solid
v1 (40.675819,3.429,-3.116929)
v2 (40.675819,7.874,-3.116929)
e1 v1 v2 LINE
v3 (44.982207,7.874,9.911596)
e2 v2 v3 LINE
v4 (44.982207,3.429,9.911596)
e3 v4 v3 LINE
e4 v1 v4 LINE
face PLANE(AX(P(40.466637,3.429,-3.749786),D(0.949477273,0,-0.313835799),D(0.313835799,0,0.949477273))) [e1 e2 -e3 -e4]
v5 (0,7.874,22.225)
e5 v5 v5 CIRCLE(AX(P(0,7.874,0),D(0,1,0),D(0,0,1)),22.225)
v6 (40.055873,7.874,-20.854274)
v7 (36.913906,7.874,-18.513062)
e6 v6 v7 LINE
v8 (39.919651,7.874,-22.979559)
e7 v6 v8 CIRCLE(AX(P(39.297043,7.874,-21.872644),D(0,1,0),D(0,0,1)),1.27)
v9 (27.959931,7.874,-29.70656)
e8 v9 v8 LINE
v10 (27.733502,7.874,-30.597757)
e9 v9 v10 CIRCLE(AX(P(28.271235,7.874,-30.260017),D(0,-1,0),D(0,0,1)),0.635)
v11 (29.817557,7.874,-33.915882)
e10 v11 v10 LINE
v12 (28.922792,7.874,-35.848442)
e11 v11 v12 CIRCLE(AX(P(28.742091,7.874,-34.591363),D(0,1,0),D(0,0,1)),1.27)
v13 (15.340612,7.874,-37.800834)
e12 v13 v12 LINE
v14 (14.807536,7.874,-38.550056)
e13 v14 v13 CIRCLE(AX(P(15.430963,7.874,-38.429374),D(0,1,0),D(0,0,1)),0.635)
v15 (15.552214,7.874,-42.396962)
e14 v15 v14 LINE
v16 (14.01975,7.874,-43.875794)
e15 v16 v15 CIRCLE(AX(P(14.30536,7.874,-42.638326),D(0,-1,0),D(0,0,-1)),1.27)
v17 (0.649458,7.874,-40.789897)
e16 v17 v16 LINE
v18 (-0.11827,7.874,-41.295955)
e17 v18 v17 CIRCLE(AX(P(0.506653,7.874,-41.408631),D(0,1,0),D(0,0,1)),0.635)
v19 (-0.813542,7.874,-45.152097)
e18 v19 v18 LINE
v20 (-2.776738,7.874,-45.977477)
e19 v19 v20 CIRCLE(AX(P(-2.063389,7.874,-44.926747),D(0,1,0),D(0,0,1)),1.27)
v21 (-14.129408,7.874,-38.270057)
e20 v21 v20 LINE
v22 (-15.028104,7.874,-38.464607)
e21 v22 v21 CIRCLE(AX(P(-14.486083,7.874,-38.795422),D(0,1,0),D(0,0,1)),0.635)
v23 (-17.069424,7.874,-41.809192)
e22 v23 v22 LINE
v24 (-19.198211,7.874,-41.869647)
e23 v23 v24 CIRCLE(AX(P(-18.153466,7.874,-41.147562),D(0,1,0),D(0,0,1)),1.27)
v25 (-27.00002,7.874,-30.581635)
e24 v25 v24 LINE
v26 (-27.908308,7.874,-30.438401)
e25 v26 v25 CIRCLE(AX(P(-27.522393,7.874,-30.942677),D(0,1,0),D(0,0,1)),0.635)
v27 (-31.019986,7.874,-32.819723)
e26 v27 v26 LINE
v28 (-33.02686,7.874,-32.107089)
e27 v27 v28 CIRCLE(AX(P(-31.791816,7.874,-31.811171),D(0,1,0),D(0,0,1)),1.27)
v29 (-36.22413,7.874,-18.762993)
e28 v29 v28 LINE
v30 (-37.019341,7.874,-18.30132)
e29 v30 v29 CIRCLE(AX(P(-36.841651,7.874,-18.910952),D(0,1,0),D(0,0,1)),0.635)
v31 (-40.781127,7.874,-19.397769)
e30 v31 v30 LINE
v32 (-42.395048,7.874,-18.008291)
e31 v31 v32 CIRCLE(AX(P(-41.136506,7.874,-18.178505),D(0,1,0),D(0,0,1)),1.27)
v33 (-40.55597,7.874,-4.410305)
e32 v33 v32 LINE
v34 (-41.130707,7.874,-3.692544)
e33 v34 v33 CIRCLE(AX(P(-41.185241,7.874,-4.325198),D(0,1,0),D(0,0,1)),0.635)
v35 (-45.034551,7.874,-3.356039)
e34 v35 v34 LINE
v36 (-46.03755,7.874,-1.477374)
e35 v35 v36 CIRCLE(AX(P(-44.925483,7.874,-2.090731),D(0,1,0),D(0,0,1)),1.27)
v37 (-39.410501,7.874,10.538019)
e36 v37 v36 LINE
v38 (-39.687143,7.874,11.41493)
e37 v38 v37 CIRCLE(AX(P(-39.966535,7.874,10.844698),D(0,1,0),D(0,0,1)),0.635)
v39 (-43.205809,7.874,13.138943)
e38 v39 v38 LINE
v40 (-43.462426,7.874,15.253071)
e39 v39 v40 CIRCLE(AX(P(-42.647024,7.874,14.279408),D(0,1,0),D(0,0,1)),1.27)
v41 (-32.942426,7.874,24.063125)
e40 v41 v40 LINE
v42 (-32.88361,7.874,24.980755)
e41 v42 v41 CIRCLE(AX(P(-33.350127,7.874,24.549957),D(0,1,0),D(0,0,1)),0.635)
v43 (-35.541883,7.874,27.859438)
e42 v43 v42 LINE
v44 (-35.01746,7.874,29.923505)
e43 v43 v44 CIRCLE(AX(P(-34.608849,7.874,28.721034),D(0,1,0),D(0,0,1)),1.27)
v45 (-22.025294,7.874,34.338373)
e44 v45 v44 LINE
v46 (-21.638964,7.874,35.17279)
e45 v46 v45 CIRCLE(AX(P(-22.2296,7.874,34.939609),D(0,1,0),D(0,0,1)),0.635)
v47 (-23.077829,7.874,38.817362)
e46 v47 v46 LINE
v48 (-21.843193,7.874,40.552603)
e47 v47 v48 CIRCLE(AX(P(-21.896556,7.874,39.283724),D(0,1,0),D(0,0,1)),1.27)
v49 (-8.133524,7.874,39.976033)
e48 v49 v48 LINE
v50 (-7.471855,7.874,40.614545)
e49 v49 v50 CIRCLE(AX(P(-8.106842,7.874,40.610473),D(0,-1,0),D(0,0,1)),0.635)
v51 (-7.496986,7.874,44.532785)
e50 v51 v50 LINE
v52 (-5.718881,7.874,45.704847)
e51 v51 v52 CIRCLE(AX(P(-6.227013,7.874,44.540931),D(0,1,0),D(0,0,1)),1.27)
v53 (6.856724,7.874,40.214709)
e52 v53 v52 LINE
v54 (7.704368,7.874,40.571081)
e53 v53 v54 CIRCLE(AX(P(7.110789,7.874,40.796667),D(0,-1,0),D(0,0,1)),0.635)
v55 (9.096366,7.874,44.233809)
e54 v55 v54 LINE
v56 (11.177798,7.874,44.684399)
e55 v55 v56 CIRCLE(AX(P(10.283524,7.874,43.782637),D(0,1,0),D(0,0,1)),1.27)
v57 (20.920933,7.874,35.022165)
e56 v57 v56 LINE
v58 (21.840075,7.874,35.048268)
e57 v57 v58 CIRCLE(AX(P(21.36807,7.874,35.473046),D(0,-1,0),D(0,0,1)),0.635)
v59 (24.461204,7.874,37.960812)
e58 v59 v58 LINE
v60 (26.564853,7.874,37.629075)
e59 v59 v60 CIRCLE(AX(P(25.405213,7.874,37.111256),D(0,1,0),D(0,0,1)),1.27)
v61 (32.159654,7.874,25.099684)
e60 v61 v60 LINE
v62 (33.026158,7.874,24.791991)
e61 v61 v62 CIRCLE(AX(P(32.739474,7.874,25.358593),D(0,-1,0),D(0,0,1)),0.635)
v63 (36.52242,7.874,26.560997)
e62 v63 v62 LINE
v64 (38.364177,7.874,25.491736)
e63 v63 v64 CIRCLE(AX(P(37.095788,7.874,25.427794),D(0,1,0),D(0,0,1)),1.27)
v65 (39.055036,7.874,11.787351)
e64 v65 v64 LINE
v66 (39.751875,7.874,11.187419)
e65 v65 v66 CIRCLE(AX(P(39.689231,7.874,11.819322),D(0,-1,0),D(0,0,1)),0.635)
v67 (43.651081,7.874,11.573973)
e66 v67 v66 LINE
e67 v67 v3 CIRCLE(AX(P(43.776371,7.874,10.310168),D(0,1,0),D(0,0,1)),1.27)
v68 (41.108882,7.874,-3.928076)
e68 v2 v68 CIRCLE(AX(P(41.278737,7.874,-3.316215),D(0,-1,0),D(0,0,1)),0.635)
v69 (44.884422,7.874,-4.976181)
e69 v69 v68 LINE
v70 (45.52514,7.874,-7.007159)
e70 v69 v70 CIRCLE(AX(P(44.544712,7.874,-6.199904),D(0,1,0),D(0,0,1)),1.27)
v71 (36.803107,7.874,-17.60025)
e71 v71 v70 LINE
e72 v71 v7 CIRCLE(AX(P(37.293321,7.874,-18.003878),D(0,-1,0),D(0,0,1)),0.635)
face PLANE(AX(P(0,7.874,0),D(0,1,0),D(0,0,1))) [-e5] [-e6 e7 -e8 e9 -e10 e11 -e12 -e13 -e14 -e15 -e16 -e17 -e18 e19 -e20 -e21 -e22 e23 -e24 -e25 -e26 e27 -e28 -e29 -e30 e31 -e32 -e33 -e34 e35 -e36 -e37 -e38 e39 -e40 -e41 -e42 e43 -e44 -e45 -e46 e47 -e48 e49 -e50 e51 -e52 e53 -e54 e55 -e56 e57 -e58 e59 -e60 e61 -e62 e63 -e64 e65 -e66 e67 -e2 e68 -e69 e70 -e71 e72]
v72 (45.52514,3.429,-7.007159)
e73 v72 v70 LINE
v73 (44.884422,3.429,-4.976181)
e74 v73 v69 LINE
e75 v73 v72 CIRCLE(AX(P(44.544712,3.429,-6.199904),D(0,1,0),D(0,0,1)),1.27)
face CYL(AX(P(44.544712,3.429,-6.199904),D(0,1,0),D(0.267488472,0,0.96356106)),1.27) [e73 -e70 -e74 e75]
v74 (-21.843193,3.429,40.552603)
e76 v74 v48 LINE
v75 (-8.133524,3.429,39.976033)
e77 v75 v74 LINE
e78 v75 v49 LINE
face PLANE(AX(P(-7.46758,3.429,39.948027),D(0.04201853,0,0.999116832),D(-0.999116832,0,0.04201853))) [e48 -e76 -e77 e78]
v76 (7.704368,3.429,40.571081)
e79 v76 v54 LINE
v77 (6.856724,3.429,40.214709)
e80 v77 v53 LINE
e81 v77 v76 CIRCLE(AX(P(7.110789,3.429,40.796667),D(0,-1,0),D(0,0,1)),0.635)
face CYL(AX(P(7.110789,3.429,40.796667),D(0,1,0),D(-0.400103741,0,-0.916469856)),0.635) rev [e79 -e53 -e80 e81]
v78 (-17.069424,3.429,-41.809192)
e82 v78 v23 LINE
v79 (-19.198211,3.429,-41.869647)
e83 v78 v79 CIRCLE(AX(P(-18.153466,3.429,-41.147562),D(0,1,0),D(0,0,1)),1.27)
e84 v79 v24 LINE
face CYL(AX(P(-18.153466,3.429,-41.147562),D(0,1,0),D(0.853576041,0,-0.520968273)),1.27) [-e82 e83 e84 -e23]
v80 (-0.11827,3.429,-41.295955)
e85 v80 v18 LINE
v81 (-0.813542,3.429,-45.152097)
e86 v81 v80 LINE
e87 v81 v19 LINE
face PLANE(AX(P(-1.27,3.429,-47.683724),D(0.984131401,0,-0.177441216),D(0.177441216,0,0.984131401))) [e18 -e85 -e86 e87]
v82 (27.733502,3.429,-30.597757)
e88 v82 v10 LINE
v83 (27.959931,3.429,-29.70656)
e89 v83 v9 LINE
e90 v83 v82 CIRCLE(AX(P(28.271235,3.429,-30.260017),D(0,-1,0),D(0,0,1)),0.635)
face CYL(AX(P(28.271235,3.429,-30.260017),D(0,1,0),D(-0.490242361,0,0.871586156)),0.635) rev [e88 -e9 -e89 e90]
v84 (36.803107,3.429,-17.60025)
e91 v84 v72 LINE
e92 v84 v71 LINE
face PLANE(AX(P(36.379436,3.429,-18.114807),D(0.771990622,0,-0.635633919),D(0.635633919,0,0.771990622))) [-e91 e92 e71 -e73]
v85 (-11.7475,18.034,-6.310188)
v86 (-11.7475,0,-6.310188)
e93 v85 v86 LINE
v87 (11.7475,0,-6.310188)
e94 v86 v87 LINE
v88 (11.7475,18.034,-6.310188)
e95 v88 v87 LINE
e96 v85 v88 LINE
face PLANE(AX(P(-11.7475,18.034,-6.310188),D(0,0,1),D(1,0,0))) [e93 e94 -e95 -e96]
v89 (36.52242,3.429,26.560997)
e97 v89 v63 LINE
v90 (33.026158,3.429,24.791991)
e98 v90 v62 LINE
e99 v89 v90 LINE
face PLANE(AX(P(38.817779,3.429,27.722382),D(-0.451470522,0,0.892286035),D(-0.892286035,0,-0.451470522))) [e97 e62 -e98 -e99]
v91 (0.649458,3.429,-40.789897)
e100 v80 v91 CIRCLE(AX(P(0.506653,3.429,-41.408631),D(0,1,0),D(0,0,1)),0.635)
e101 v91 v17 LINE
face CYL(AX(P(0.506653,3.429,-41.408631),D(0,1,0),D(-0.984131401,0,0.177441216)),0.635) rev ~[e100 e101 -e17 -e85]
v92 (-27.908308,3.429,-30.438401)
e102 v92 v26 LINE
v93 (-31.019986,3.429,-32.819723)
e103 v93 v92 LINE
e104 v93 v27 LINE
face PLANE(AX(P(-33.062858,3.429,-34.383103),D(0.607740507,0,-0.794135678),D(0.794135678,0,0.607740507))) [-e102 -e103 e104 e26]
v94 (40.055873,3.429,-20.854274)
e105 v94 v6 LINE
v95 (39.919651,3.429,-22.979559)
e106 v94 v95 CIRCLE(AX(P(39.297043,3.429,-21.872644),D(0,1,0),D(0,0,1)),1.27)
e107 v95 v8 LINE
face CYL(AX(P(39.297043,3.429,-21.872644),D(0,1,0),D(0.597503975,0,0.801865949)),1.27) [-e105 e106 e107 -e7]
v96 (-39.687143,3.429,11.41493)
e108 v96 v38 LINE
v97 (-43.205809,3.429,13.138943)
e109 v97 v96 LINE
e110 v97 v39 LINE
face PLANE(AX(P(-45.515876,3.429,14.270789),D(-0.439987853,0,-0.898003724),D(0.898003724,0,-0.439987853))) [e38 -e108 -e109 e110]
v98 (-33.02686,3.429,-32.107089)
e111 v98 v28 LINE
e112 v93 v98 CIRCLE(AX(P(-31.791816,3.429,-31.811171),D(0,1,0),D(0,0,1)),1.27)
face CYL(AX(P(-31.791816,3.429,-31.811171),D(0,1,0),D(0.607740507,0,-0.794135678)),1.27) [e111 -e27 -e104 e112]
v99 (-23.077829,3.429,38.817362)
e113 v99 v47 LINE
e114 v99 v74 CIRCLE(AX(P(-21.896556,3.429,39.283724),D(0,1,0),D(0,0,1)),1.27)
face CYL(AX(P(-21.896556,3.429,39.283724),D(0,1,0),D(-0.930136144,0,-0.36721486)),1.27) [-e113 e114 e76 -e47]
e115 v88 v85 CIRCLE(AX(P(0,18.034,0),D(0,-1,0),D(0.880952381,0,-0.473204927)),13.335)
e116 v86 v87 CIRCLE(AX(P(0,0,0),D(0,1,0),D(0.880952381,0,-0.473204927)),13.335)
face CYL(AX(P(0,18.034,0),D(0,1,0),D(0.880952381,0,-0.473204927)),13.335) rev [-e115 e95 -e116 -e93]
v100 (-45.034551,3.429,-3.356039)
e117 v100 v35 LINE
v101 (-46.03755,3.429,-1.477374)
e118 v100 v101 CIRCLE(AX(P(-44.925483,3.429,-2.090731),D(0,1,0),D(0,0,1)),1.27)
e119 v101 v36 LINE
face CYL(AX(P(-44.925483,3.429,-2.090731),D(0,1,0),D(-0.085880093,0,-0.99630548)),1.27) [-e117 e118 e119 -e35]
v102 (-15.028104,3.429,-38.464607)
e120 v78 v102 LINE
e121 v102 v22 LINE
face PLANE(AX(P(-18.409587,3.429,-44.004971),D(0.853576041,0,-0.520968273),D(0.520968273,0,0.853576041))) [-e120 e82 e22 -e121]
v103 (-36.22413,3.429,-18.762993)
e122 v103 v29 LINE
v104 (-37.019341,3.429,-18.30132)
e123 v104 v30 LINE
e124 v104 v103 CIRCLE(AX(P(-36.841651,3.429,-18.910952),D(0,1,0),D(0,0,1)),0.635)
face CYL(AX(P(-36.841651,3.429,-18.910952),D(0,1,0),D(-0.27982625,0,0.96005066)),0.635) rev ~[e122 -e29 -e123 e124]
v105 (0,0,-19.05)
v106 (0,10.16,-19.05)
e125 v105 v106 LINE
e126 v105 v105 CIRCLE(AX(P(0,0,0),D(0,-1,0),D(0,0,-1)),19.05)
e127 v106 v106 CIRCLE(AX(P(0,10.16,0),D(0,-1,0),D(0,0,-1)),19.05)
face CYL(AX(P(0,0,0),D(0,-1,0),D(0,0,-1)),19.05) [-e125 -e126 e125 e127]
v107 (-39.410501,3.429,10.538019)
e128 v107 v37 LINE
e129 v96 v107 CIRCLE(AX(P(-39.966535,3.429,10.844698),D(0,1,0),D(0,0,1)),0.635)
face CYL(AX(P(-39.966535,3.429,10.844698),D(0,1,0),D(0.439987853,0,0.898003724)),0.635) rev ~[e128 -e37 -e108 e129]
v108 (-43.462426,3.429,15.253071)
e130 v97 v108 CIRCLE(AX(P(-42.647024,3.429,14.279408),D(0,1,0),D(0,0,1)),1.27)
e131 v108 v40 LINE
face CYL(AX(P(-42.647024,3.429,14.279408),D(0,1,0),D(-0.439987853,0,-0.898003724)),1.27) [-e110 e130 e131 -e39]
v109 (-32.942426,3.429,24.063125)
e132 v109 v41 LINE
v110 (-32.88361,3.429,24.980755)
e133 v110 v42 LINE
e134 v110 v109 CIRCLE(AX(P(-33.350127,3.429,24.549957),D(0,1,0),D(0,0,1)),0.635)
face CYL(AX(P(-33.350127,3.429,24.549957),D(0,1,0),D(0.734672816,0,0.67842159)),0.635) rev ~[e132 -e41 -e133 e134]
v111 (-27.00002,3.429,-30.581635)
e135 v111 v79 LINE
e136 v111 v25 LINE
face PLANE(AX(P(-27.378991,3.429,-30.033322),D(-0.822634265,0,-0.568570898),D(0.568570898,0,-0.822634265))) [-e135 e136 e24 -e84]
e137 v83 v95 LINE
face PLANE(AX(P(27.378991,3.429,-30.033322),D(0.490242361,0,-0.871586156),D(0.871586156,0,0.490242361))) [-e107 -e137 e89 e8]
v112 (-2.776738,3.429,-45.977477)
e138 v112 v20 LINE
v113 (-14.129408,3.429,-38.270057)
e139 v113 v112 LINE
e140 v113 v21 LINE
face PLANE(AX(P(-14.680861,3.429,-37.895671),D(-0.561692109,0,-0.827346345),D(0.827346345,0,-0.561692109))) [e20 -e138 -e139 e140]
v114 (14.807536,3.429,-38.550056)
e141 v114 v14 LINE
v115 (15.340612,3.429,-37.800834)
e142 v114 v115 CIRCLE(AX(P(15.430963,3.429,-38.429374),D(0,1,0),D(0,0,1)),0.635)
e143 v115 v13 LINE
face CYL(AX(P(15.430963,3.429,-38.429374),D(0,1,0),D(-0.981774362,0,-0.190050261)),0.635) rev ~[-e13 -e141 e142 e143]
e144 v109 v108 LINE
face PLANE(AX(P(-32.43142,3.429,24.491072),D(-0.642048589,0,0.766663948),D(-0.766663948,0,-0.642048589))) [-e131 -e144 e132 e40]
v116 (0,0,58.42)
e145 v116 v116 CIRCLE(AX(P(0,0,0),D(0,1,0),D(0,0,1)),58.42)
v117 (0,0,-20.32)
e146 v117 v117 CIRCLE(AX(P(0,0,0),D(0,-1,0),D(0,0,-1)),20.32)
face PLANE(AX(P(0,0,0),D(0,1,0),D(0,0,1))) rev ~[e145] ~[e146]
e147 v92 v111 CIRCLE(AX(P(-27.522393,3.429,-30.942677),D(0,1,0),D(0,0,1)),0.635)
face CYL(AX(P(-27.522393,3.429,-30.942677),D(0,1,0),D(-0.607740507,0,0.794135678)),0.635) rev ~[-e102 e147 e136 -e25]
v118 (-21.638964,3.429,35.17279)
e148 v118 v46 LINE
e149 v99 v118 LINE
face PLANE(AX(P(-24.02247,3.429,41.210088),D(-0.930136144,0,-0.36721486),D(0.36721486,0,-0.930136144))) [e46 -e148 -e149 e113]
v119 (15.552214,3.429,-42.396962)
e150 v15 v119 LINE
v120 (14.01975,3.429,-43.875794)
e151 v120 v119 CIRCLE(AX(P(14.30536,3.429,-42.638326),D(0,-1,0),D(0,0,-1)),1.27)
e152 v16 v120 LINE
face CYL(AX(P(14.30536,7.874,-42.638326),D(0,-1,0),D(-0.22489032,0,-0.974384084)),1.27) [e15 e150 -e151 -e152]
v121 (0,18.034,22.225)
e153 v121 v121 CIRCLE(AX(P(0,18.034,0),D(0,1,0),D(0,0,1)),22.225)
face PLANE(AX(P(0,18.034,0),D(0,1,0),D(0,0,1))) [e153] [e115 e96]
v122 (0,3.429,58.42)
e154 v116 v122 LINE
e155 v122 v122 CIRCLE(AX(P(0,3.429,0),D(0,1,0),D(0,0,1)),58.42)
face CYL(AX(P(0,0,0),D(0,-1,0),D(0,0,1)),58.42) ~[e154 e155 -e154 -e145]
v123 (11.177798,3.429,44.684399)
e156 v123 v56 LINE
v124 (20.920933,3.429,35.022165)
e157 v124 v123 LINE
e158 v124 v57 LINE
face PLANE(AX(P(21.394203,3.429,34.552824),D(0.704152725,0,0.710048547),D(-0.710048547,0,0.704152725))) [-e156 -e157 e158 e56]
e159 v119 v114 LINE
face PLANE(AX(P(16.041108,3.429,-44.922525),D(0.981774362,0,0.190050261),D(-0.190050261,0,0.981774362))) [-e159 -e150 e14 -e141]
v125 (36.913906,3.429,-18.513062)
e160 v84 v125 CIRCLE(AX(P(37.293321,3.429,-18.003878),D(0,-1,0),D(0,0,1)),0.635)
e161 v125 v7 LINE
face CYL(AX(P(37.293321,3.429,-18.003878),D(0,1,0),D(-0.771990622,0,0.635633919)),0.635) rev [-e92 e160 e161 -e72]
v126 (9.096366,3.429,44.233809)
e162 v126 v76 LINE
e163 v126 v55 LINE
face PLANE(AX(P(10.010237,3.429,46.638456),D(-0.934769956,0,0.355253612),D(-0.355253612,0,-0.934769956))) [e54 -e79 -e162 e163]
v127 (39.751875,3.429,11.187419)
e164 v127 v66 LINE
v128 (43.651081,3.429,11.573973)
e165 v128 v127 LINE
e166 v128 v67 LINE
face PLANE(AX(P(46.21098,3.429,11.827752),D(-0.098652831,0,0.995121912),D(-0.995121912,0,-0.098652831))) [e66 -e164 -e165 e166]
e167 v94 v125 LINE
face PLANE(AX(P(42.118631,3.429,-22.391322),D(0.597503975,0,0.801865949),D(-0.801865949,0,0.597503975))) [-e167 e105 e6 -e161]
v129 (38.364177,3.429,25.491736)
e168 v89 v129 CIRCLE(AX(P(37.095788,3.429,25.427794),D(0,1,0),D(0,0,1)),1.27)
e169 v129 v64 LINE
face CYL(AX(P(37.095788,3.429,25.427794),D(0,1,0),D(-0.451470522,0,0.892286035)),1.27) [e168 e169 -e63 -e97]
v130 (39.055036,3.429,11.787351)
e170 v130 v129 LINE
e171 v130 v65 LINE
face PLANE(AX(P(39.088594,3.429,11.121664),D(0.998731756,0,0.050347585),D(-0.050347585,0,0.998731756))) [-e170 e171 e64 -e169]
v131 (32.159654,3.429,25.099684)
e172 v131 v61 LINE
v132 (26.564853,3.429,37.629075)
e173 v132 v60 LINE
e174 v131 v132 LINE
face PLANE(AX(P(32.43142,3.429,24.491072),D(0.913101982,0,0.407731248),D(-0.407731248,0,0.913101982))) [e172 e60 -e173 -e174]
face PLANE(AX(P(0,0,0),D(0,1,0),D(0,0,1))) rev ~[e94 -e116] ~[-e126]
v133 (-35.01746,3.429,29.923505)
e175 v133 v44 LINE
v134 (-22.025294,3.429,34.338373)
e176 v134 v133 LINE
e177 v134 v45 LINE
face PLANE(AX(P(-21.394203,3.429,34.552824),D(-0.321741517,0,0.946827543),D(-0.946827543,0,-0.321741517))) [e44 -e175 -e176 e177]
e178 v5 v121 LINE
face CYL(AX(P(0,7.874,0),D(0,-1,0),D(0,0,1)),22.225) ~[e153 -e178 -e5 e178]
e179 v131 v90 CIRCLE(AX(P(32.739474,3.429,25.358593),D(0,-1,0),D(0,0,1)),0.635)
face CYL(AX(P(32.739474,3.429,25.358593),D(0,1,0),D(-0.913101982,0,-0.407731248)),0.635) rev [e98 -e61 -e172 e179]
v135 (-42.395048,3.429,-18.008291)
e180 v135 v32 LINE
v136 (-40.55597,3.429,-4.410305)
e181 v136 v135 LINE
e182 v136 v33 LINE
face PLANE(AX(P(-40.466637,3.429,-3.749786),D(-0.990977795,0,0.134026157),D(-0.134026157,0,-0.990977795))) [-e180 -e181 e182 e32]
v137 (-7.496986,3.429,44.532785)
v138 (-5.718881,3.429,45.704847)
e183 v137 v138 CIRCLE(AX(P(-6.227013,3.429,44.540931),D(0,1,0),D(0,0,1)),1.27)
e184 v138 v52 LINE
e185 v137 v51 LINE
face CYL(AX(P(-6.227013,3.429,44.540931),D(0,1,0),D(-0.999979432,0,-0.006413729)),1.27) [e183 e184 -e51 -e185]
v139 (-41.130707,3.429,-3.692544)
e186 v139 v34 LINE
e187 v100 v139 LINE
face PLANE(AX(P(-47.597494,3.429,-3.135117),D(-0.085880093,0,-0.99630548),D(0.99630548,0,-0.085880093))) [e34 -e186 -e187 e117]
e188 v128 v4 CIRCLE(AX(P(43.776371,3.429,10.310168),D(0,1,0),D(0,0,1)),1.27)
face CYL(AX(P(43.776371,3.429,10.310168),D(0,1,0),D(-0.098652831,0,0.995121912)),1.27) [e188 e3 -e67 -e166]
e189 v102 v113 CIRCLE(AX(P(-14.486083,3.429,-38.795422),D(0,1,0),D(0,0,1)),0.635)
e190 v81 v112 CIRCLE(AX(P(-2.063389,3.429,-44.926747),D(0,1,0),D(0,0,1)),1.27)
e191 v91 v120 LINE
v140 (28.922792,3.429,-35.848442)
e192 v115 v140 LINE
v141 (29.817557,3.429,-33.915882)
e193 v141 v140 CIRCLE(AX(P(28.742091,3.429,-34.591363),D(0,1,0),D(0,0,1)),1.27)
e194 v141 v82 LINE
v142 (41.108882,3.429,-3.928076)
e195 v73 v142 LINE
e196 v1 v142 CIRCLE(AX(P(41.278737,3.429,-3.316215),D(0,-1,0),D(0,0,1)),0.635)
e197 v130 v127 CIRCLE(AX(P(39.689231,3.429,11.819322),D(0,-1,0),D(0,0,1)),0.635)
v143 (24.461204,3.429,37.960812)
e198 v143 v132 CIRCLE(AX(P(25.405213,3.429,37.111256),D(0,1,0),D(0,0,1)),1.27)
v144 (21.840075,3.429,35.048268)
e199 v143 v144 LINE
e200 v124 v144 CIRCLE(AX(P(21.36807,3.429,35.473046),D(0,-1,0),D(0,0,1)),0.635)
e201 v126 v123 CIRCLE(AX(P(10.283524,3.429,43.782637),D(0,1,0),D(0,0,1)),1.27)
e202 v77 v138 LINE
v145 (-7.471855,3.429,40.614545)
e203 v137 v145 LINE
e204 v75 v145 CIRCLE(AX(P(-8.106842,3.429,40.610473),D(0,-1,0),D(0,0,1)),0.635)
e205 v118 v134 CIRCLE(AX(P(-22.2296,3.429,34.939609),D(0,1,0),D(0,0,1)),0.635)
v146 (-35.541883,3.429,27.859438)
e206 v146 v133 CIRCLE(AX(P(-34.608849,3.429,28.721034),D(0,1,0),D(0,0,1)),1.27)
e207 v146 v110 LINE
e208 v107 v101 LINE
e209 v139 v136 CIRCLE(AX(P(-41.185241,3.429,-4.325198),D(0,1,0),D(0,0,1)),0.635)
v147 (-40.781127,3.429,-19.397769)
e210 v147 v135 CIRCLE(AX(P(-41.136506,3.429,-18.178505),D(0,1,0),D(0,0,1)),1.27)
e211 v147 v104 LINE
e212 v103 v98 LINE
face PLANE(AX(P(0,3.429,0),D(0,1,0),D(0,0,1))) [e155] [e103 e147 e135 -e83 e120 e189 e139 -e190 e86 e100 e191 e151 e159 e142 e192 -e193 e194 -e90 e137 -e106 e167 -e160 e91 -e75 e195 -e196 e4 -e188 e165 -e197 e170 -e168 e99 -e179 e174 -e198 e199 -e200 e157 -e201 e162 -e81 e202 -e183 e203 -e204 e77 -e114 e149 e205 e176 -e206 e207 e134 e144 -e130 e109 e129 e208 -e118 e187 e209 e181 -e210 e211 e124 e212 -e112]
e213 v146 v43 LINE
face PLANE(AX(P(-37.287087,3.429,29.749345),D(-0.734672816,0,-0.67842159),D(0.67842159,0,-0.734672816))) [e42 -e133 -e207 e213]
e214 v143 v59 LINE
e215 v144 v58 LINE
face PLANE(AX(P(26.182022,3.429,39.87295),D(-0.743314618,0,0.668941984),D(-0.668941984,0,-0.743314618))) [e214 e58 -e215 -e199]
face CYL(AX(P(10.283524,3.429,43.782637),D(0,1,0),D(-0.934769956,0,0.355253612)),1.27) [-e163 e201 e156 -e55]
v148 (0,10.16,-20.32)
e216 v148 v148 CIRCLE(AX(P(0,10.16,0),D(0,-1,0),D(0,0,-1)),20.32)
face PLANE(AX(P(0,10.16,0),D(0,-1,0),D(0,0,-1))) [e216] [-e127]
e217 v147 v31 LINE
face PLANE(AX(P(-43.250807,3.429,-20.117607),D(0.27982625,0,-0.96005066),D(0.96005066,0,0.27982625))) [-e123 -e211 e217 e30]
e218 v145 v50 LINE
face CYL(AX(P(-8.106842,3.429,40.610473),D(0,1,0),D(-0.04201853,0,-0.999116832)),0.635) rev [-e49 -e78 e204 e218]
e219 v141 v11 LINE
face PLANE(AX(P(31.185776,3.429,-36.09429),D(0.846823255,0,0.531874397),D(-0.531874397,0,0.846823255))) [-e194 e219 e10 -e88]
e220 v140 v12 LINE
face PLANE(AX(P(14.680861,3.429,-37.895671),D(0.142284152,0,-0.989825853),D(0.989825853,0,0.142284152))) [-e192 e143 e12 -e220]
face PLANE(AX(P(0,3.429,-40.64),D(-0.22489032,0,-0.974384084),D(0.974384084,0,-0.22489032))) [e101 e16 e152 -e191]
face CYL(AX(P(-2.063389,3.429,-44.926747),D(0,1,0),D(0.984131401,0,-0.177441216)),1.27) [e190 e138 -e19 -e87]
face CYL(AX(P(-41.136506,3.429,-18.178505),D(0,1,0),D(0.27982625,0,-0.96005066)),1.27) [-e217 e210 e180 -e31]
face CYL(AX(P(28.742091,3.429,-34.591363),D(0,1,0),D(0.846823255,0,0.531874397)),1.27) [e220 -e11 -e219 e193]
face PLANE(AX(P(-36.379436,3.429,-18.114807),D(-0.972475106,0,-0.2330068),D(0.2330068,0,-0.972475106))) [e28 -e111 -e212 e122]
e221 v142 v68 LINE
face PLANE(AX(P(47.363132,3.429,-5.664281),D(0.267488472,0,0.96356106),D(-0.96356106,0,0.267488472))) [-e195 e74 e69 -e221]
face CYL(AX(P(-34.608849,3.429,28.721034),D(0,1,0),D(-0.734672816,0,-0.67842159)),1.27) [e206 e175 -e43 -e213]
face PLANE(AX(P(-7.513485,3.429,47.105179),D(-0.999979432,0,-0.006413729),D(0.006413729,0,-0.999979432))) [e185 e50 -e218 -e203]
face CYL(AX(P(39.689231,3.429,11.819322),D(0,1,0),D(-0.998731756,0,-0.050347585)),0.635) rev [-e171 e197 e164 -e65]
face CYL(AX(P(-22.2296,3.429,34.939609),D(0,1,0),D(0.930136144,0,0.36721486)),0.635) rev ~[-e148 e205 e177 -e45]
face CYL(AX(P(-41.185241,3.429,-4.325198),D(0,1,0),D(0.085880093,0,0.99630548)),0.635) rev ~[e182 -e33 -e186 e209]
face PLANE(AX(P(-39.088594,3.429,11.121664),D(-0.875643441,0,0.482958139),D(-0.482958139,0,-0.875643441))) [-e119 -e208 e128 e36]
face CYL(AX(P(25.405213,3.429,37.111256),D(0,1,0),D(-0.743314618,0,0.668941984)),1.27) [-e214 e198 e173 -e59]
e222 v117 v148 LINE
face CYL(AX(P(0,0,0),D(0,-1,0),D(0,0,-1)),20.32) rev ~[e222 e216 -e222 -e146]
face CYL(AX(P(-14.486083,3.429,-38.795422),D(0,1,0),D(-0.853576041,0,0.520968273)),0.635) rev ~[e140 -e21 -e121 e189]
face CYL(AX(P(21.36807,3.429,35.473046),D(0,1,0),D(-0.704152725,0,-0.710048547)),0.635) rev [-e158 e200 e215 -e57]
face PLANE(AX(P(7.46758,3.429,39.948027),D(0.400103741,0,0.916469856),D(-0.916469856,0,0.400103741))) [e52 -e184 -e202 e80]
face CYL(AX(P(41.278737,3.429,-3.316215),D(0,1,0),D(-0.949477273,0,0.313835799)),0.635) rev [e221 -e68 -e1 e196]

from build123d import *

# Parameters (mm, degrees)
SKETCH1_R           = 58.42
BOSS_EXTRUDE1_DEPTH = 3.429
SKETCH2_R           = 47.700633093
BOSS_EXTRUDE3_DEPTH = 4.445
CUT_EXTRUDE2_START  = -4.445
CUT_EXTRUDE2_DEPTH  = 4.445
CIRPATTERN1_COUNT   = 17
FILLET1_R           = 1.27
FILLET2_R           = 0.635
SKETCH5_R           = 22.225
BOSS_EXTRUDE4_DEPTH = 10.16
CUT_EXTRUDE3_DEPTH  = 85.563691712
SKETCH7_R           = 20.32
SKETCH7_R_2         = 19.05
CUT_EXTRUDE4_DEPTH  = 10.16


with BuildPart() as part:
    # Sketch1 → Boss-Extrude1 (new body)
    with BuildSketch(Plane(origin=(0, 0, 0), x_dir=(1, 0, 0), z_dir=(0, 1, 0))):
        with Locations(Location((0, 0, 0), (0, 0, 270))):
            Circle(SKETCH1_R)
    extrude(amount=BOSS_EXTRUDE1_DEPTH)

    # Sketch2 → Boss-Extrude3 (add)
    with BuildSketch(Plane(origin=(0, 3.429, 0), x_dir=(1, 0, 0), z_dir=(0, 1, 0))):
        with Locations(Location((0, 0, 0), (0, 0, 270))):
            Circle(SKETCH2_R)
    extrude(amount=BOSS_EXTRUDE3_DEPTH)

    # Sketch4 → Cut-Extrude2 (cut)
    with BuildSketch(Plane(origin=(0, 7.874, 0), x_dir=(1, 0, 0), z_dir=(0, 1, 0)).offset(CUT_EXTRUDE2_START)):
        with BuildLine():
            Line((-1.27, 47.683723612), (0, 40.64))
            Line((0, 40.64), (17.007917051, 44.565470435))
            ThreePointArc((17.007917051, 44.565470435), (8.021931438, 47.021261292), (-1.27, 47.683723612))
        make_face()
    cut_extrude2 = extrude(amount=CUT_EXTRUDE2_DEPTH, mode=Mode.SUBTRACT)

    # CirPattern1: Cut-Extrude2 ×17 about axis
    cirpattern1_axis = Axis((0, 0, 0), (0, 1, 0))
    for i in range(1, CIRPATTERN1_COUNT):
        add(cut_extrude2.rotate(cirpattern1_axis, i * 360 / CIRPATTERN1_COUNT), mode=Mode.SUBTRACT)

    # Fillet1
    fillet1_edges = [part.edges().sort_by_distance(p)[0] for p in [
        (-1.160233877, 5.6515, -47.07493445),
        (15.923541887, 5.6515, -44.315193895),
        (-18.087313626, 5.6515, -43.476944257),
        (-32.571601445, 5.6515, -34.007151828),
        (-42.656914003, 5.6515, -19.944505104),
        (-46.981173955, 5.6515, -3.18824245),
        (-44.960366033, 5.6515, 13.998610014),
        (-36.867411544, 5.6515, 29.294872626),
        (-23.795308837, 5.6515, 40.634700362),
        (-7.509517816, 5.6515, 46.486586649),
        (9.790475196, 5.6515, 46.060201819),
        (25.768210283, 5.6515, 39.413131504),
        (38.265805785, 5.6515, 27.443099384),
        (45.595392177, 5.6515, 11.766724625),
        (46.767068202, 5.6515, -5.498811497),
        (41.622592522, 5.6515, -22.021702656),
        (30.856755083, 5.6515, -35.570440844),
    ]]
    fillet(fillet1_edges, radius=FILLET1_R)

    # Fillet2
    fillet2_edges = [part.edges().sort_by_distance(p)[0] for p in [
        (0, 5.6515, -40.64),
        (14.680861314, 5.6515, -37.895671403),
        (-14.680861314, 5.6515, -37.895671403),
        (-27.378990958, 5.6515, -30.033322396),
        (-36.379436161, 5.6515, -18.114806779),
        (-40.466636925, 5.6515, -3.749786129),
        (-39.088594139, 5.6515, 11.121663917),
        (-32.431420117, 5.6515, 24.491071622),
        (-21.394203099, 5.6515, 34.552824396),
        (-7.467580404, 5.6515, 39.948026771),
        (7.467580404, 5.6515, 39.948026771),
        (21.394203099, 5.6515, 34.552824396),
        (32.431420117, 5.6515, 24.491071622),
        (39.088594139, 5.6515, 11.121663917),
        (40.466636925, 5.6515, -3.749786129),
        (36.379436161, 5.6515, -18.114806779),
        (27.378990958, 5.6515, -30.033322396),
    ]]
    fillet(fillet2_edges, radius=FILLET2_R)

    # Sketch5 → Boss-Extrude4 (add)
    with BuildSketch(Plane(origin=(0, 7.874, 0), x_dir=(1, 0, 0), z_dir=(0, 1, 0))):
        with Locations(Location((0, 0, 0), (0, 0, 270))):
            Circle(SKETCH5_R)
    extrude(amount=BOSS_EXTRUDE4_DEPTH)

    # Sketch6 → Cut-Extrude3 (cut, through all)
    with BuildSketch(Plane(origin=(0, 18.034, 0), x_dir=(1, 0, 0), z_dir=(0, 1, 0))):
        with BuildLine():
            Line((-11.7475, 6.310187695), (11.7475, 6.310187695))
            ThreePointArc((11.7475, 6.310187695), (0, -13.335), (-11.7475, 6.310187695))
        make_face()
    extrude(amount=-CUT_EXTRUDE3_DEPTH, mode=Mode.SUBTRACT)

    # Sketch7 → Cut-Extrude4 (cut)
    with BuildSketch(Plane.XZ):
        with Locations(Location((0, 0, 0), (0, 0, 270))):
            Circle(SKETCH7_R)
        with Locations(Location((0, 0, 0), (0, 0, 270))):
            Circle(SKETCH7_R_2, mode=Mode.SUBTRACT)
    extrude(amount=-CUT_EXTRUDE4_DEPTH, mode=Mode.SUBTRACT)


solid = part.part
